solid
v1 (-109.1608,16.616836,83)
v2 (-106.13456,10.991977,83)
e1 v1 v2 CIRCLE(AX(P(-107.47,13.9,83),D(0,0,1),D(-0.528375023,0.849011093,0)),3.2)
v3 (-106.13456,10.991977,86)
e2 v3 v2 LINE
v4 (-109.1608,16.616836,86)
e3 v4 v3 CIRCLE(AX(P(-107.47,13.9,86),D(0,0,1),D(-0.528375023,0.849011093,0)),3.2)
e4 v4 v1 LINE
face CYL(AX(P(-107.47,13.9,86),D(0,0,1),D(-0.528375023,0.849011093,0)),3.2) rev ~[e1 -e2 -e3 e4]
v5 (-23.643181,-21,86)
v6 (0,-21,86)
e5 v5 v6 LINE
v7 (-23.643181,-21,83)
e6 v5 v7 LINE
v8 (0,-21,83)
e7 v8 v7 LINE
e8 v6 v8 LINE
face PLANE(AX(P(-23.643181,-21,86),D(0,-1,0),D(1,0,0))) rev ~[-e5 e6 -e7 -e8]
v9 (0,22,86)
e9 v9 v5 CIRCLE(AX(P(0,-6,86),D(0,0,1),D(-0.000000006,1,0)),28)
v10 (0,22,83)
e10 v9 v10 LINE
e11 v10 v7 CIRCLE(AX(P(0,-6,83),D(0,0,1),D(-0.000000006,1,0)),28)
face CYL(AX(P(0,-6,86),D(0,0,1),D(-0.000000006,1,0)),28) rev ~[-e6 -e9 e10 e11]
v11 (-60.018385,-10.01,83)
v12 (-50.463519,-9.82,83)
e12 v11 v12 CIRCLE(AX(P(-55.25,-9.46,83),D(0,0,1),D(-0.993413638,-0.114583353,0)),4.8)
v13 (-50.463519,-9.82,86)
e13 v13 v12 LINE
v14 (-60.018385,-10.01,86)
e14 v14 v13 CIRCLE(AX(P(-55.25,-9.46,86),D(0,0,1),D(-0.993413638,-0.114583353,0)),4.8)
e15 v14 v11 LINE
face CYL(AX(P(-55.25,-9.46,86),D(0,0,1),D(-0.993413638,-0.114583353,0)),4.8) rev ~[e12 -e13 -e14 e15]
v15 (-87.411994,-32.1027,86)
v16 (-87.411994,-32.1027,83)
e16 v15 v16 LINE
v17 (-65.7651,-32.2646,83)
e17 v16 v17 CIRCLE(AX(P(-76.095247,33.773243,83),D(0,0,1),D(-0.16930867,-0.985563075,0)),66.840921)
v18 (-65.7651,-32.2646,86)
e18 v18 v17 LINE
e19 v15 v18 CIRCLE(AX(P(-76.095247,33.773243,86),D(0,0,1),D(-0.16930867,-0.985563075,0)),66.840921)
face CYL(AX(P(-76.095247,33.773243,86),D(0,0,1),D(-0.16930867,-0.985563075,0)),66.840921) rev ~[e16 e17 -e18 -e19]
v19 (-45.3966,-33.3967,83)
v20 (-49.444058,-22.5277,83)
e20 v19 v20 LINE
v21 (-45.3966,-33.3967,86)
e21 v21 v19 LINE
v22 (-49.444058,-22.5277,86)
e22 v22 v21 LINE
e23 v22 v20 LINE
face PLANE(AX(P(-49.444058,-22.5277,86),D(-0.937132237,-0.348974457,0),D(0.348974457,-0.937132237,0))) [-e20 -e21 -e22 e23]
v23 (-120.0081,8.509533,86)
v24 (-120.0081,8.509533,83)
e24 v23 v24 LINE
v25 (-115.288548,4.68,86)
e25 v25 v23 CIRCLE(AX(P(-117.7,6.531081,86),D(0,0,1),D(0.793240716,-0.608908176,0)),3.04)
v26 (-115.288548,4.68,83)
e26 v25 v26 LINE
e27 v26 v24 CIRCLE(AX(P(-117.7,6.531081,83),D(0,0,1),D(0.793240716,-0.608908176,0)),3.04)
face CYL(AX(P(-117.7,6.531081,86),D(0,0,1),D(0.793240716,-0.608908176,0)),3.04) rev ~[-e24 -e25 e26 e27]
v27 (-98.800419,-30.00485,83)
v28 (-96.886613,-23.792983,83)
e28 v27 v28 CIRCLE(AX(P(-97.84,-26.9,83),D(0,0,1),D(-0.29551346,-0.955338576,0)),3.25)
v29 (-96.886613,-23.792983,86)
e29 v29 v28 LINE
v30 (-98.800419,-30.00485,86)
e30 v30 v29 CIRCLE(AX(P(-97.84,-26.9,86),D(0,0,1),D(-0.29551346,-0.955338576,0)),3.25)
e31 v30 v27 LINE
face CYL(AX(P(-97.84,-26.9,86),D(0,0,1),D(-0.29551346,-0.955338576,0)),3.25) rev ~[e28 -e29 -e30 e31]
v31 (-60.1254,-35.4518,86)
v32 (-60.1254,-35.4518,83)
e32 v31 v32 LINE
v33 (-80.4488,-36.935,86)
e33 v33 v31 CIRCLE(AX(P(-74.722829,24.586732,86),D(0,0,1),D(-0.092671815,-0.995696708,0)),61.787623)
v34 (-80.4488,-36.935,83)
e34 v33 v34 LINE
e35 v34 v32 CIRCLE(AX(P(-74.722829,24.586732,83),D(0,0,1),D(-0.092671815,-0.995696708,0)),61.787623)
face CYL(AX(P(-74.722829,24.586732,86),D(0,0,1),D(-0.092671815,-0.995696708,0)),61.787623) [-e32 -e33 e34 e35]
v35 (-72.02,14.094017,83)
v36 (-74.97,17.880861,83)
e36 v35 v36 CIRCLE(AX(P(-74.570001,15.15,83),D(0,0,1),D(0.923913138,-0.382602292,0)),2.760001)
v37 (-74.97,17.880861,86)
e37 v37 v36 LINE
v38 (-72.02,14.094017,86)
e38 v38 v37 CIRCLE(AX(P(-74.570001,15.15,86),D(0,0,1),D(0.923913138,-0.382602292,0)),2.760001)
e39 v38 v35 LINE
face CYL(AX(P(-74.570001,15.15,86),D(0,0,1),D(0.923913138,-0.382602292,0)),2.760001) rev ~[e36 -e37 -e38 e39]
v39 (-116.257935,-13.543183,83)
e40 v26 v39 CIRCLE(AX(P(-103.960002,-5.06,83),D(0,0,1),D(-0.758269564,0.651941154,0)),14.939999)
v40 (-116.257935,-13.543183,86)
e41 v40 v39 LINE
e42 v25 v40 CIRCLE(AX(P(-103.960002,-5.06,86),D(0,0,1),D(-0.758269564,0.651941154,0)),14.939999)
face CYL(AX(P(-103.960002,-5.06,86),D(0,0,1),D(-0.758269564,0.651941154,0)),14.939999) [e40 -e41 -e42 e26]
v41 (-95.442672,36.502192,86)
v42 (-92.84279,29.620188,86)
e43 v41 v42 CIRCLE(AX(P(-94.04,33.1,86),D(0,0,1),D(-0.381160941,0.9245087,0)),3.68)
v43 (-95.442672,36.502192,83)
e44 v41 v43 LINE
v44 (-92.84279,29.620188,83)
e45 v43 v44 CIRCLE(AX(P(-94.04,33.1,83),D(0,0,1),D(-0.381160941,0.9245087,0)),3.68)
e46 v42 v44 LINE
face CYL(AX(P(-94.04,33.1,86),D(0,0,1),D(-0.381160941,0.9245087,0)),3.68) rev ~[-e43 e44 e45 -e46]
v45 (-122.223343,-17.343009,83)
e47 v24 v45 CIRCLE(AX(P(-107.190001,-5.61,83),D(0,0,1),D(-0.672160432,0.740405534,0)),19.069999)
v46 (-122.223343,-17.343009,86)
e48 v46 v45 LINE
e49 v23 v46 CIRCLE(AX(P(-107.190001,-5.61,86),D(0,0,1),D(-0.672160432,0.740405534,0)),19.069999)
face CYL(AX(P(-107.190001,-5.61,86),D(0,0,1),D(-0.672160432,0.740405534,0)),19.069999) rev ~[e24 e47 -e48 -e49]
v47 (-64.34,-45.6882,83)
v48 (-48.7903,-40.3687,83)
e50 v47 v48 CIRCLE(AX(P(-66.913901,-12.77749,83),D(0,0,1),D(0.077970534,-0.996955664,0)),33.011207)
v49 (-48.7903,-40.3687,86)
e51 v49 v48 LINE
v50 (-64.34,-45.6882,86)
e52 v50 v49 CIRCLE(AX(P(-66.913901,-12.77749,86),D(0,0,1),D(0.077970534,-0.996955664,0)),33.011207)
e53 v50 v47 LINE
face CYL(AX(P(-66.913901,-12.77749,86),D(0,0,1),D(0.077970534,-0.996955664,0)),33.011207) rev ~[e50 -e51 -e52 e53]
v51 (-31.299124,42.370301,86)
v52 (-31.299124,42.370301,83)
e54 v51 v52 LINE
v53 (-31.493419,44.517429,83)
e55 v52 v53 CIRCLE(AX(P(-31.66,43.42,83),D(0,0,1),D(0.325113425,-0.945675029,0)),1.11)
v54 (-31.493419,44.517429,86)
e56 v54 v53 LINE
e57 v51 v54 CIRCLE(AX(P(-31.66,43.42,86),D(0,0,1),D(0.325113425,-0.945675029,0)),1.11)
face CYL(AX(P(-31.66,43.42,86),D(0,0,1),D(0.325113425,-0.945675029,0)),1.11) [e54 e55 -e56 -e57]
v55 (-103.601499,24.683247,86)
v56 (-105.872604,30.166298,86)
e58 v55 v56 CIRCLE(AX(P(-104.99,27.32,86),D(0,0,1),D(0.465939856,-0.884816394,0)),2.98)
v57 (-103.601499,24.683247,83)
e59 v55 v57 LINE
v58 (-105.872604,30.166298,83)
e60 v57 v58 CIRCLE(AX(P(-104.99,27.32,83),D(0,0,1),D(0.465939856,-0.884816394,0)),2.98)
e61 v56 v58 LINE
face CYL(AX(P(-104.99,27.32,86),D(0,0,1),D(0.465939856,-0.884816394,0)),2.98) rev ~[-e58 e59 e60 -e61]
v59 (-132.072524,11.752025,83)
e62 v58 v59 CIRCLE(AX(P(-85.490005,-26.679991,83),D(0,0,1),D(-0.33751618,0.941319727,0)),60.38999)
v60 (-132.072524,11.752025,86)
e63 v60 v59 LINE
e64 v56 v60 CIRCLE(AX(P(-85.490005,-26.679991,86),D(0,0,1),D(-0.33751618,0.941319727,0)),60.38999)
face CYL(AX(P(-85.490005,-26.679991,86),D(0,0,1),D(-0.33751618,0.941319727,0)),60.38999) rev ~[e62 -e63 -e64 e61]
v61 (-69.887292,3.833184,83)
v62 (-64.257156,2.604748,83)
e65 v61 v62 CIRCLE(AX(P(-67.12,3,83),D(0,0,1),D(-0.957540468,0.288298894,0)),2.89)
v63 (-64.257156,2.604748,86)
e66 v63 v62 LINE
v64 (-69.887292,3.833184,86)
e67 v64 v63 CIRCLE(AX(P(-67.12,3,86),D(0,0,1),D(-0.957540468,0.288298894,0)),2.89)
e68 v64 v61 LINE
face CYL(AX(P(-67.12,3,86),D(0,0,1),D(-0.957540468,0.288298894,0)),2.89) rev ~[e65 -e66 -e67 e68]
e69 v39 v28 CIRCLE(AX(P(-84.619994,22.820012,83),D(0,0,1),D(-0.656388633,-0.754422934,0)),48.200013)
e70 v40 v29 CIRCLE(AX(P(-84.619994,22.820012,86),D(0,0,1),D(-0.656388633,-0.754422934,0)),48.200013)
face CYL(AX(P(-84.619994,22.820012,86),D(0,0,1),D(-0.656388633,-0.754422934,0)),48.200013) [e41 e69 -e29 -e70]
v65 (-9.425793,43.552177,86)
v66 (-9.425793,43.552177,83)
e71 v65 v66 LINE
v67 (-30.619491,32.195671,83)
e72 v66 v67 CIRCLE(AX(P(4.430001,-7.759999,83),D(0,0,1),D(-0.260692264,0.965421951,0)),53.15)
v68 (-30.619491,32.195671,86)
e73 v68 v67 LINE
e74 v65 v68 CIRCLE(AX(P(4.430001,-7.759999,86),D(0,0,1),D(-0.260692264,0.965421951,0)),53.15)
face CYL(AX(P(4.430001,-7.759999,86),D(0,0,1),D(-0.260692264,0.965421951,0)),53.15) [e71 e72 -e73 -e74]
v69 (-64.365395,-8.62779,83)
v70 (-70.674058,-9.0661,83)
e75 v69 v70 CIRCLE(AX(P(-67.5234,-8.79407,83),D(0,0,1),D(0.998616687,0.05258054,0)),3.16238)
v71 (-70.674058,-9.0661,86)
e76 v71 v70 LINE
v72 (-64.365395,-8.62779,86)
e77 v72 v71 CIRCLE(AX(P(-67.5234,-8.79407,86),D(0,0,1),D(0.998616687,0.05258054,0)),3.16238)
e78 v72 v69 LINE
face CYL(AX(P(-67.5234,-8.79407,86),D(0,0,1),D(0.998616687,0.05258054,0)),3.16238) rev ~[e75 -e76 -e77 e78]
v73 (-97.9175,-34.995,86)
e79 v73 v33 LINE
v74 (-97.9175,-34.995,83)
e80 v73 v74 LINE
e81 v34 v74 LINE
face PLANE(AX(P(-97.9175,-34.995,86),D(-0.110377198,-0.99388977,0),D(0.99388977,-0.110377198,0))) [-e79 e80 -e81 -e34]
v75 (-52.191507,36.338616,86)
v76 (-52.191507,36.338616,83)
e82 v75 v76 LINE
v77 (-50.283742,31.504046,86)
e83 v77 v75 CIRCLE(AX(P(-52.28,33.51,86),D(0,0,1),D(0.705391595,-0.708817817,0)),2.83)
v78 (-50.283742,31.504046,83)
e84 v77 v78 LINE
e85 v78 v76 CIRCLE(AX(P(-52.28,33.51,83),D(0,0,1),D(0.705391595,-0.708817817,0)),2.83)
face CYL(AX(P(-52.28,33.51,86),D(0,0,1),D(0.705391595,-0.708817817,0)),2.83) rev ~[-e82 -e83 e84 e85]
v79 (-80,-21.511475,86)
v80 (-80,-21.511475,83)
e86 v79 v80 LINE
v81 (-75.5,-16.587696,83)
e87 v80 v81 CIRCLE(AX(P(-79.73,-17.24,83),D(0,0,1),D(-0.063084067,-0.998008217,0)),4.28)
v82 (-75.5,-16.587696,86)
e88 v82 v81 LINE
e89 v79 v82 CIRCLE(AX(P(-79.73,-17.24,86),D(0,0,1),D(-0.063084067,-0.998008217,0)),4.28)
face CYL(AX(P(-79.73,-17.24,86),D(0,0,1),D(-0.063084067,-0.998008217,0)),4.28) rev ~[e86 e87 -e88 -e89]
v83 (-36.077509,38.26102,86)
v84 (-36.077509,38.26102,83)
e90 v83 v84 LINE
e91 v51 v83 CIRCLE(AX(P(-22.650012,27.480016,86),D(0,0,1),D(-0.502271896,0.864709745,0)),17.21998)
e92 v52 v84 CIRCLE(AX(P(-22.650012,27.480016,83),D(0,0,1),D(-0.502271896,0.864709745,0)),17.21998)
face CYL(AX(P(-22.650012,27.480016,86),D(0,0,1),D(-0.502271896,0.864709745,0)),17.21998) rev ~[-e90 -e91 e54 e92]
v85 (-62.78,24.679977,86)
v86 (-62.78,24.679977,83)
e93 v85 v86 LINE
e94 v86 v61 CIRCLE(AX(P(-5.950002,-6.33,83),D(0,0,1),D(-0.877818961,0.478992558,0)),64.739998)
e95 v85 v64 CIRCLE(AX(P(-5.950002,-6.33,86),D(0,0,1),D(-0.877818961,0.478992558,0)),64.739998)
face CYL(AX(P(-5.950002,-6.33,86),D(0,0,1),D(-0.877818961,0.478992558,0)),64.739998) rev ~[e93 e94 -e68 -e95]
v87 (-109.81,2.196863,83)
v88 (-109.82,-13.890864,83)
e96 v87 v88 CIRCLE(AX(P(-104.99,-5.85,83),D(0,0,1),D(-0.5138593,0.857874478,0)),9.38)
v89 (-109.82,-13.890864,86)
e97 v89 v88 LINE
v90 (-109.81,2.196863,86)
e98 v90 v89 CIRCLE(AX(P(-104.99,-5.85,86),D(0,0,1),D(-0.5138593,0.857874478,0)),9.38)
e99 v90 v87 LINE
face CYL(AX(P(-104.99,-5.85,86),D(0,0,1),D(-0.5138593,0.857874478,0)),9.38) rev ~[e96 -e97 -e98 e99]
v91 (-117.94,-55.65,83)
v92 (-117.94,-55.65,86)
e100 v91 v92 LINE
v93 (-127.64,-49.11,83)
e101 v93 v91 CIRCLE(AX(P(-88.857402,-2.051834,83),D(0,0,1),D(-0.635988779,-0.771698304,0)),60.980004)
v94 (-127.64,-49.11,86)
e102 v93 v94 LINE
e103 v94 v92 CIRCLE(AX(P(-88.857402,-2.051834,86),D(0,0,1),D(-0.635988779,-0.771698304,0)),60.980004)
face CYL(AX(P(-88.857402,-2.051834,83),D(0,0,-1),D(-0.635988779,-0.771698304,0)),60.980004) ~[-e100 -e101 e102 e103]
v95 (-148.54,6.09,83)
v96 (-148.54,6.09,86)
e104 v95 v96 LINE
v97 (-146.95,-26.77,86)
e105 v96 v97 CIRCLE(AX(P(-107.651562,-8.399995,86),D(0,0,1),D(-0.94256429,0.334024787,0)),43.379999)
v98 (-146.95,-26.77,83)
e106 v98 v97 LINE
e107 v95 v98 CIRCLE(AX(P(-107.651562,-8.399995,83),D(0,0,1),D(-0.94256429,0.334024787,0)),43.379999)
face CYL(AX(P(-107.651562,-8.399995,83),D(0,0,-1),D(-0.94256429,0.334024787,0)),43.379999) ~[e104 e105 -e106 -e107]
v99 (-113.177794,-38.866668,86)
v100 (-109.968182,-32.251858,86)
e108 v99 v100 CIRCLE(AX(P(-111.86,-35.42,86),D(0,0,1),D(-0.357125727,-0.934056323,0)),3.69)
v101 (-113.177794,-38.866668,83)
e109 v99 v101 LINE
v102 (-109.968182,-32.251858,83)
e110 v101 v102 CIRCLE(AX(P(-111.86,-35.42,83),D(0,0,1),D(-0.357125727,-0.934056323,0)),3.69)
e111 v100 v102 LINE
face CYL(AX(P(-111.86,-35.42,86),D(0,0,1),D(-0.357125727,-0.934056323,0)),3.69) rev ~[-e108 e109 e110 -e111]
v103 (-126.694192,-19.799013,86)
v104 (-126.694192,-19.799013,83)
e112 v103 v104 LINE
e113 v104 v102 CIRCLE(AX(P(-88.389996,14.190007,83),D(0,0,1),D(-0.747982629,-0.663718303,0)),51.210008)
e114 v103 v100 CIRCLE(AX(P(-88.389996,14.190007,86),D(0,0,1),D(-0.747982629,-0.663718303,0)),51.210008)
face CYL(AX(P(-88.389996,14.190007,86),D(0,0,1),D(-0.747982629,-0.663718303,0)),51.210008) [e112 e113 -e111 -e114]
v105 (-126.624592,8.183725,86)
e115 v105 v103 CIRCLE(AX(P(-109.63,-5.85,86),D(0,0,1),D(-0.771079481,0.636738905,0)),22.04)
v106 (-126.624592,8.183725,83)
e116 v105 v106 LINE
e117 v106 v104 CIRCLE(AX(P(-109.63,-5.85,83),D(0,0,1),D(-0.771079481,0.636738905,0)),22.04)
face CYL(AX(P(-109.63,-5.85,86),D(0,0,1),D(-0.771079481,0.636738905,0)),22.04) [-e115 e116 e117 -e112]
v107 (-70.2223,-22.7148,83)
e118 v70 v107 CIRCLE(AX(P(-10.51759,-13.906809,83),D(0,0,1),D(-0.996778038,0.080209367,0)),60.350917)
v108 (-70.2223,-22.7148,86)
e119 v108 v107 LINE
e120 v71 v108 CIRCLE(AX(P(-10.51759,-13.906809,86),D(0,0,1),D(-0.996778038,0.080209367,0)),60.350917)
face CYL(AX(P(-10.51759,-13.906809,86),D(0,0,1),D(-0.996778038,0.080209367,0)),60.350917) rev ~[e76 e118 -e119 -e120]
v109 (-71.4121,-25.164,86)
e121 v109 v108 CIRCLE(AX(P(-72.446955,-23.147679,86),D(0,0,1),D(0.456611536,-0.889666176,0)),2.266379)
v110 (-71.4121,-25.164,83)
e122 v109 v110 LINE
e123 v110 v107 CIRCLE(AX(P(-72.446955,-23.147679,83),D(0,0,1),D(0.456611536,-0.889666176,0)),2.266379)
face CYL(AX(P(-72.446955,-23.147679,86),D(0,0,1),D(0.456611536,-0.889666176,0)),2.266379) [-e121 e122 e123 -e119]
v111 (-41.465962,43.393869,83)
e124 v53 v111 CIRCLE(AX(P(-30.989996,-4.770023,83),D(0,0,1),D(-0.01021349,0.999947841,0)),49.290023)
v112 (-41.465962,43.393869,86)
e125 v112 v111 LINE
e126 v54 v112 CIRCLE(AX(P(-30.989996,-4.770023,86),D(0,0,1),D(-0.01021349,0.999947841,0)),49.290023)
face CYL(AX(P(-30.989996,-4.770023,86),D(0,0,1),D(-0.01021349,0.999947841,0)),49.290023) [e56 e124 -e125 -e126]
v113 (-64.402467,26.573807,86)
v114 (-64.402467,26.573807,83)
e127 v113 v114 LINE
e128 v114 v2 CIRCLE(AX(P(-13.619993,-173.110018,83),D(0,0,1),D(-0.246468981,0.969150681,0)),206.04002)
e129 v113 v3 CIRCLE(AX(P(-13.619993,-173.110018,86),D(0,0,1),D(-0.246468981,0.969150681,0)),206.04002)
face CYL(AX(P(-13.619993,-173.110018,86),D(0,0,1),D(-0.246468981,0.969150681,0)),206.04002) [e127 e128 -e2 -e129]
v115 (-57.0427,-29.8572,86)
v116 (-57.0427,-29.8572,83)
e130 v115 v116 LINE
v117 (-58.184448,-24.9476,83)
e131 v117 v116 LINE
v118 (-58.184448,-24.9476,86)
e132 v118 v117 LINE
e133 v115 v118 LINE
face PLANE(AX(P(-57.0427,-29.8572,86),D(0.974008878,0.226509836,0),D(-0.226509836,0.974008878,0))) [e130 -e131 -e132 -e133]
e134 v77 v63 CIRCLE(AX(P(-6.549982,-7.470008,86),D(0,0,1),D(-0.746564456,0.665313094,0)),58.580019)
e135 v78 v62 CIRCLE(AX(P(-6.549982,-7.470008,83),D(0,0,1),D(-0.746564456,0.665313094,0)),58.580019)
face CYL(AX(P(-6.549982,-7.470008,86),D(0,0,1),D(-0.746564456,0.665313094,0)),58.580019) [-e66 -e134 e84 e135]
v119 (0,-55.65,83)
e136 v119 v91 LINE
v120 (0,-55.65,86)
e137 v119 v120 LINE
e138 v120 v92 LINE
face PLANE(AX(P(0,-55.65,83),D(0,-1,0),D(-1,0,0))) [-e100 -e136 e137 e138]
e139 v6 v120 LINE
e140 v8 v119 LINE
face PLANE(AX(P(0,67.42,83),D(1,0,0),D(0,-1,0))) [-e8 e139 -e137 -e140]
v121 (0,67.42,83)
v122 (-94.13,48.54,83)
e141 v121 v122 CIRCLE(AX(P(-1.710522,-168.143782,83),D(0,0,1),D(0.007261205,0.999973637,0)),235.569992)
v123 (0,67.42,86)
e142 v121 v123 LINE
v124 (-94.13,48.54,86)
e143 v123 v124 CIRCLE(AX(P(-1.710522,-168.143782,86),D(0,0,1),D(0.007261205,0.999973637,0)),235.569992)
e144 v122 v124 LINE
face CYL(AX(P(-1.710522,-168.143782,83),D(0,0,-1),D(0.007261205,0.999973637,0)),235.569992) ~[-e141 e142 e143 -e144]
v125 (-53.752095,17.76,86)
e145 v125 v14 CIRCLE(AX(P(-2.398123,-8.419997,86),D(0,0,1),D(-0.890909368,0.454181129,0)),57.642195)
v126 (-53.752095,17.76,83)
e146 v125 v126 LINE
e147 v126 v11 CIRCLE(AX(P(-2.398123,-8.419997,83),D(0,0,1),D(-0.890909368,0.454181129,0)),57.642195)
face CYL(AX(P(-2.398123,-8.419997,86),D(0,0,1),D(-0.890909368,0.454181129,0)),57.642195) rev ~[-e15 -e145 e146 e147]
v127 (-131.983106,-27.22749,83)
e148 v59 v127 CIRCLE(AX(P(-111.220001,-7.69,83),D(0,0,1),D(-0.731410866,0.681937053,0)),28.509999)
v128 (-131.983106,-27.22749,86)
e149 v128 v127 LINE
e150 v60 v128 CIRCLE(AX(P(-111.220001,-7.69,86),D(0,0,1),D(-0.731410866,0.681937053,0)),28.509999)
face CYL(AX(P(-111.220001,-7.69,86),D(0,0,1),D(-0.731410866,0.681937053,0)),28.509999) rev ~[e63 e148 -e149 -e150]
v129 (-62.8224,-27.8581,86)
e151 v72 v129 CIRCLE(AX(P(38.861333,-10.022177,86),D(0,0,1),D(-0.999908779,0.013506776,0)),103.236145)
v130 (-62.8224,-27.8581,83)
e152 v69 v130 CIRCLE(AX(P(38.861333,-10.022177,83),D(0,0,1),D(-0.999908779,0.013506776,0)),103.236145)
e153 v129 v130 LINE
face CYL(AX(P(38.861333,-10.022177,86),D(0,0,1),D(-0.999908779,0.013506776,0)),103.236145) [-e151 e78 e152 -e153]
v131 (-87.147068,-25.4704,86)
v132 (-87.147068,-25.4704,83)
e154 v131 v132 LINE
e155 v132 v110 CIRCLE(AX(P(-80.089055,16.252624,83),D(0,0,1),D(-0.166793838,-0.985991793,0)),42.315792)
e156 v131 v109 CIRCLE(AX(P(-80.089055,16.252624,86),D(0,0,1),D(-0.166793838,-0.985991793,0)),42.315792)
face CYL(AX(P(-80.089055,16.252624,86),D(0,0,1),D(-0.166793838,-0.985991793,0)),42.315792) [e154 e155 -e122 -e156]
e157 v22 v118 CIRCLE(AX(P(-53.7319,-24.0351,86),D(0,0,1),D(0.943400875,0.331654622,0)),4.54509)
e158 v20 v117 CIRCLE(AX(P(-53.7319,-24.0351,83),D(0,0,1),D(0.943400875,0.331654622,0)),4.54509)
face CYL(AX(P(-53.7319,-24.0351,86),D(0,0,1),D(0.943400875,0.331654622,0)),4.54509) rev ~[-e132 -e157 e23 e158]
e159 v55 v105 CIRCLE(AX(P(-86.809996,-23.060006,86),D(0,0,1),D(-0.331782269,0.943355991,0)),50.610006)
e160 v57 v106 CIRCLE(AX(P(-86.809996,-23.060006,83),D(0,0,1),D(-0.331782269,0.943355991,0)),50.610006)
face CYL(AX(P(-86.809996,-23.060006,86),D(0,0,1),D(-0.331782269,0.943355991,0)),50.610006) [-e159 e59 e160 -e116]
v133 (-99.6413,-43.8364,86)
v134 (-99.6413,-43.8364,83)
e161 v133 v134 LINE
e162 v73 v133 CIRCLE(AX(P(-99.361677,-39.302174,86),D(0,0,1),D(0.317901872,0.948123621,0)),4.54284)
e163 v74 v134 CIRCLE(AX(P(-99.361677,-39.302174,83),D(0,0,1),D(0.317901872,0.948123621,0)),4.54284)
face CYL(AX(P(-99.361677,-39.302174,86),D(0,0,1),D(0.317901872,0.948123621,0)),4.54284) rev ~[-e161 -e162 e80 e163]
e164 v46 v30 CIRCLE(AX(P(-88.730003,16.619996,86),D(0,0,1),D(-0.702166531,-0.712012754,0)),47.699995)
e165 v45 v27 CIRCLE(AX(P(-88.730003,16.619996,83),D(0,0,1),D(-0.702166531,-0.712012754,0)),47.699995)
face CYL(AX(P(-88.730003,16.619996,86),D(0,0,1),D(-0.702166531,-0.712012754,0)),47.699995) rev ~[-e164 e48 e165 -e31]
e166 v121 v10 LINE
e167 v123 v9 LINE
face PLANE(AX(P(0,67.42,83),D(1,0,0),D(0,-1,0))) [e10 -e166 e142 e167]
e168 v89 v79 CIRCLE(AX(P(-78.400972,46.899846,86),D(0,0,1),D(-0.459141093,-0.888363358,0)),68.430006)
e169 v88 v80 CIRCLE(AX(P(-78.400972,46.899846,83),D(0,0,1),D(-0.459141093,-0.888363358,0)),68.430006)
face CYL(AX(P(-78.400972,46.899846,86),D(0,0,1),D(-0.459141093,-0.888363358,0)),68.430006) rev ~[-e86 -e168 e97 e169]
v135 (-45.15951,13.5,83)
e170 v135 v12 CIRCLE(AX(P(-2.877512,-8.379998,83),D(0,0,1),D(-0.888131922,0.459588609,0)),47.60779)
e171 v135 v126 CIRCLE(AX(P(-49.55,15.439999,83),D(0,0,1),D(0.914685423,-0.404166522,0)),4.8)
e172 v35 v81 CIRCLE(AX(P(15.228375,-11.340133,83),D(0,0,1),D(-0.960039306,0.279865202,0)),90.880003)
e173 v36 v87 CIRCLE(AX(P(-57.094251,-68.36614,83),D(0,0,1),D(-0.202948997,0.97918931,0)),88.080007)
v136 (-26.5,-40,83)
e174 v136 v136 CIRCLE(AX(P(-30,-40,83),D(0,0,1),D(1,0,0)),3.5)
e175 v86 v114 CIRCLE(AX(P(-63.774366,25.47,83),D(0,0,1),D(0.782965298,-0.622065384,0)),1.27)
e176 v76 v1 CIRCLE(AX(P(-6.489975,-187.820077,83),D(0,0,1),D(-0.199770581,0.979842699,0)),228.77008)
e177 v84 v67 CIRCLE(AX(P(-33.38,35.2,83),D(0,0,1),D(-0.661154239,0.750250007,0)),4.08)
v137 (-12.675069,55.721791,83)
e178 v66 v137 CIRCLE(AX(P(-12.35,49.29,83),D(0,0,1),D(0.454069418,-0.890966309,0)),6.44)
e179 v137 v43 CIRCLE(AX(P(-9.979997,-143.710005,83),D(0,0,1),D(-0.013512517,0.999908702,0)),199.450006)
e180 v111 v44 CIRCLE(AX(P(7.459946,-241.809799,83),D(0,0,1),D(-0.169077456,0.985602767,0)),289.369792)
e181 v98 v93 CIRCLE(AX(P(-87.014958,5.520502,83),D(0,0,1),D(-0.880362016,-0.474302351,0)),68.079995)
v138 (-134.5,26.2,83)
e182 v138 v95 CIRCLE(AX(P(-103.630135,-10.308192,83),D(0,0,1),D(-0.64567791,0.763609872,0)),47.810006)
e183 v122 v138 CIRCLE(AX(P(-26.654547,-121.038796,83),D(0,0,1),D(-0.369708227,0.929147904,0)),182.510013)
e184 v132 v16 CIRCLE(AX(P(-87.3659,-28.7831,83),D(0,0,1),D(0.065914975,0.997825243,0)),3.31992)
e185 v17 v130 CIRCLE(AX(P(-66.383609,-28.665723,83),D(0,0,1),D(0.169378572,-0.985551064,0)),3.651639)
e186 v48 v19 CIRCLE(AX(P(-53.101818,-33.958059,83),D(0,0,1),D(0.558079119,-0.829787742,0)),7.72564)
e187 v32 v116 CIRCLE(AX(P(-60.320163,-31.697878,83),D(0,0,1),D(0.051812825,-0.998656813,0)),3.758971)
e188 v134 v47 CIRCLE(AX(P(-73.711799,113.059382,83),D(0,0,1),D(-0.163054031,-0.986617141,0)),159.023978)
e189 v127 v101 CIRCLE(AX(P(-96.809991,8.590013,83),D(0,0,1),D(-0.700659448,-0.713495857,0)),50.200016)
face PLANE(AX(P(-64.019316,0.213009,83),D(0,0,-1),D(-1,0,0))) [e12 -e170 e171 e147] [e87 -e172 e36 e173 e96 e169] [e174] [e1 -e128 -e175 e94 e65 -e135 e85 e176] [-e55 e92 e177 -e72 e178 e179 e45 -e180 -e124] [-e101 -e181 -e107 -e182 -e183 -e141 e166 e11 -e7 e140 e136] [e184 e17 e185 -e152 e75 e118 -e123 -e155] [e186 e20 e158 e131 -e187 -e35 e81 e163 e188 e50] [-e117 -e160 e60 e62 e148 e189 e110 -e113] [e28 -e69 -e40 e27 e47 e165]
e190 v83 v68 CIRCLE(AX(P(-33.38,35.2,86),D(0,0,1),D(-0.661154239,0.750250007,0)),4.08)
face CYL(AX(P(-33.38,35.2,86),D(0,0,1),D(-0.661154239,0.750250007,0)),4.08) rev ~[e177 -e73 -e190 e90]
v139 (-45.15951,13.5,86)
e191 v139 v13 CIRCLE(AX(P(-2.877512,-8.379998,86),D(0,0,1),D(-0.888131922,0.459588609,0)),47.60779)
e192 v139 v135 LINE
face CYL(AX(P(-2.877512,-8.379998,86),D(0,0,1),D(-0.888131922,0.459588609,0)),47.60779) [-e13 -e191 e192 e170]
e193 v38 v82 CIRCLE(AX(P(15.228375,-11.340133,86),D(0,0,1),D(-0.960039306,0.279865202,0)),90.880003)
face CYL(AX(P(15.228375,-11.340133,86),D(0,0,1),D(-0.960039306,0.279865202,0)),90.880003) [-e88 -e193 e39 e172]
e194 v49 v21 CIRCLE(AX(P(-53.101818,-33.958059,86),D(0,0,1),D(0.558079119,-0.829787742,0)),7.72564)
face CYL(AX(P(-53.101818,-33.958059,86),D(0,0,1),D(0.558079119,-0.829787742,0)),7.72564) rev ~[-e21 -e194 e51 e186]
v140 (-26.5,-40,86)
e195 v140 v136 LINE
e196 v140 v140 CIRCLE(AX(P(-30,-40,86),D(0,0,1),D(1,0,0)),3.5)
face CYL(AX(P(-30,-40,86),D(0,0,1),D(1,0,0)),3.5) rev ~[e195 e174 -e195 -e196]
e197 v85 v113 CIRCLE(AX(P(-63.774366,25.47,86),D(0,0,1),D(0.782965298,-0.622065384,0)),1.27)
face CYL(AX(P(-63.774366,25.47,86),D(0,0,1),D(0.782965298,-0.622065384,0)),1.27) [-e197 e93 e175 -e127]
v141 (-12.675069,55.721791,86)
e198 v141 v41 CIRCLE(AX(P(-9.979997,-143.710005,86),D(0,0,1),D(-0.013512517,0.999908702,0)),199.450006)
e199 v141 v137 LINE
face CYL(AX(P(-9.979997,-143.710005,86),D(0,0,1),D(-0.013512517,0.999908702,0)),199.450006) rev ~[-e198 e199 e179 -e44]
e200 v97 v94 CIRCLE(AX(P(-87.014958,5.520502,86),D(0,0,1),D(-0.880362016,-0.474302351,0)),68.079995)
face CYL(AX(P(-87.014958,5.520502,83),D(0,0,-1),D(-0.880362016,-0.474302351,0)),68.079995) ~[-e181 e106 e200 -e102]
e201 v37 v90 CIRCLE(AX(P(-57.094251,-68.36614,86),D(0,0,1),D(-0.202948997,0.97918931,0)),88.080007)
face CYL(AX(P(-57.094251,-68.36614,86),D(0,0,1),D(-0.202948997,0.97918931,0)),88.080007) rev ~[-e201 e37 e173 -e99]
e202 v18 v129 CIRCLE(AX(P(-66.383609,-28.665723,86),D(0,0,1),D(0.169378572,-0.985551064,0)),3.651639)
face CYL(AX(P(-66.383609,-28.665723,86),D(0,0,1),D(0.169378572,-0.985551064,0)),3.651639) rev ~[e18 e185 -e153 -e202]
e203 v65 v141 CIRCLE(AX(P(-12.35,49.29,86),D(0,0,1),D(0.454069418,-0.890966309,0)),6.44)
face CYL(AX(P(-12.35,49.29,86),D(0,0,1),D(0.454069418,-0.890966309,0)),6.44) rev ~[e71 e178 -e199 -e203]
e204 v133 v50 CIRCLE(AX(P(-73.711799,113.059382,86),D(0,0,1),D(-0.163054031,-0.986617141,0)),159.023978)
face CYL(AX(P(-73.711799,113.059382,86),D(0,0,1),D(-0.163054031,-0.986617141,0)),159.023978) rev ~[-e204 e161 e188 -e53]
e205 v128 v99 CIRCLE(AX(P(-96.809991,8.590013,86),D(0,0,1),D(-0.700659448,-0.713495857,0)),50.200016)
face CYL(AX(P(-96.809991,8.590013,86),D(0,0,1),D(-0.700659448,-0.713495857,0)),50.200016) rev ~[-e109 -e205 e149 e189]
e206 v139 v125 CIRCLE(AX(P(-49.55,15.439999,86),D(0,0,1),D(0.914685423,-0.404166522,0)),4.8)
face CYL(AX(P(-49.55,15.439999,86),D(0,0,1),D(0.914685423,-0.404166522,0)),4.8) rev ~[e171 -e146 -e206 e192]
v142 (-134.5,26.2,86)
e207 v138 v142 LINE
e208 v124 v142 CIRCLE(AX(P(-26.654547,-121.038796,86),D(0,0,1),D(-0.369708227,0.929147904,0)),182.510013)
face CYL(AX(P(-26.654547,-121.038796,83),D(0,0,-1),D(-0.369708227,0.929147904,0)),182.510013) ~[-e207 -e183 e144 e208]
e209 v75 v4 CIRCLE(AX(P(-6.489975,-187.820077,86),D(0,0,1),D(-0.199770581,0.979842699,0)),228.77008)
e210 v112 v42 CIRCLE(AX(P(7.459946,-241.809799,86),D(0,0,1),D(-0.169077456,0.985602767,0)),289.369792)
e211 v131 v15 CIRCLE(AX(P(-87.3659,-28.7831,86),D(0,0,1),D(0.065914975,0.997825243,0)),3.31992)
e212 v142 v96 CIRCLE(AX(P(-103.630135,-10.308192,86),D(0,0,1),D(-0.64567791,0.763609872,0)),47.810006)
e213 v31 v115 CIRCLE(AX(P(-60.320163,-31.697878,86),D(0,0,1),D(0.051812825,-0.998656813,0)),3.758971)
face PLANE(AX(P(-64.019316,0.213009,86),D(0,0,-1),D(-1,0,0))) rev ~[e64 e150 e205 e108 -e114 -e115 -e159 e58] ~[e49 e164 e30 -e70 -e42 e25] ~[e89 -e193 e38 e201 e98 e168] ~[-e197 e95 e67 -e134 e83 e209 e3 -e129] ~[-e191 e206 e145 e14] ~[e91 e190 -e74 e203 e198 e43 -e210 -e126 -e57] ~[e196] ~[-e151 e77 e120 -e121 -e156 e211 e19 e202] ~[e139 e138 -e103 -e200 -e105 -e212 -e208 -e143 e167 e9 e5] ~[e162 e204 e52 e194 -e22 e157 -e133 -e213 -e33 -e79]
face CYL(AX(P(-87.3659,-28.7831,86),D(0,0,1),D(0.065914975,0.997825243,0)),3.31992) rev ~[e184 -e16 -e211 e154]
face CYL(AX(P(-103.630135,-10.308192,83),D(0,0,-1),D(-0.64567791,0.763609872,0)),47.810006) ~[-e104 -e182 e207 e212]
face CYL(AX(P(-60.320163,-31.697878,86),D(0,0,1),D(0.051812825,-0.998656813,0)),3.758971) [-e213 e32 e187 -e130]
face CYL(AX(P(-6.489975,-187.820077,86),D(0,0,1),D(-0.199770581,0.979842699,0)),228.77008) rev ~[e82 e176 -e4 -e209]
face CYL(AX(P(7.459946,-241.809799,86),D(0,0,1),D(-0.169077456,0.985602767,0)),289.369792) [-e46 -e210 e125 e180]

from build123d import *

# Parameters (mm, degrees)
PAD004_DEPTH        = 3
POCKET007_DEPTH     = 3.001
POCKET008_DEPTH     = 3.001
POCKET009_DEPTH     = 3.001
POCKET010_DEPTH     = 3.001
POCKET011_DEPTH     = 3.001
POCKET012_DEPTH     = 3.001
POCKET013_DEPTH     = 3.001
POCKET014_DEPTH     = 3.001
POCKET015_DEPTH     = 3.001
COPYCOPYSKETCH023_R = 3.5
POCKET033_DEPTH     = 5


with BuildPart() as part:
    # Sketch012 → Pad004 (new body)
    with BuildSketch(Plane.XY):
        with BuildLine():
            Line((0, 67.42), (0, -55.65))
            Line((0, -55.65), (-117.94, -55.65))
            ThreePointArc((-127.64, -49.11), (-122.947197, -52.613151), (-117.94, -55.65))
            ThreePointArc((-146.95, -26.77), (-138.520798, -38.999541), (-127.64, -49.11))
            ThreePointArc((-148.54, 6.09), (-150.980867, -10.496574), (-146.95, -26.77))
            ThreePointArc((-134.5, 26.2), (-142.831473, 17.060618), (-148.54, 6.09))
            ThreePointArc((-94.13, 48.54), (-115.023795, 38.650843), (-134.5, 26.2))
            ThreePointArc((0, 67.42), (-48.036997, 62.826084), (-94.13, 48.54))
        make_face()
    extrude(amount=PAD004_DEPTH)

    # CopySketch001 → Pocket007 (cut, through all)
    with BuildSketch(Plane.XY.offset(3)):
        with BuildLine():
            ThreePointArc((0, 22), (-24.535688, 7.490738), (-23.643181, -21))
            Line((-23.643181, -21), (0, -21))
            Line((0, -21), (0, 22))
        make_face()
        with BuildLine():
            ThreePointArc((-45.15951, 13.5), (-47.417918, 19.740491), (-53.752095, 17.76))
            ThreePointArc((-53.752095, 17.76), (-58.626578, 4.267932), (-60.018385, -10.01))
            ThreePointArc((-60.018385, -10.01), (-55.15457, -14.259051), (-50.463519, -9.82))
            ThreePointArc((-45.15951, 13.5), (-49.299707, 2.178481), (-50.463519, -9.82))
        make_face()
    extrude(amount=-POCKET007_DEPTH, mode=Mode.SUBTRACT)

    # CopySketch002 → Pocket008 (cut, through all)
    with BuildSketch(Plane.XY.offset(3)):
        with BuildLine():
            ThreePointArc((-49.444058, -22.5277), (-54.944649, -19.654794), (-58.184448, -24.9476))
            Line((-57.0427, -29.8572), (-58.184448, -24.9476))
            ThreePointArc((-60.1254, -35.4518), (-57.027903, -33.511958), (-57.0427, -29.8572))
            ThreePointArc((-80.4488, -36.935), (-70.225534, -37.037002), (-60.1254, -35.4518))
            Line((-97.9175, -34.995), (-80.4488, -36.935))
            ThreePointArc((-97.9175, -34.995), (-103.82056, -38.432829), (-99.6413, -43.8364))
            ThreePointArc((-99.6413, -43.8364), (-82.042265, -45.74625), (-64.34, -45.6882))
            ThreePointArc((-64.34, -45.6882), (-56.228822, -44.011588), (-48.7903, -40.3687))
            ThreePointArc((-48.7903, -40.3687), (-46.155403, -37.339305), (-45.3966, -33.3967))
            Line((-49.444058, -22.5277), (-45.3966, -33.3967))
        make_face()
    extrude(amount=-POCKET008_DEPTH, mode=Mode.SUBTRACT)

    # CopySketch003 → Pocket009 (cut, through all)
    with BuildSketch(Plane.XY.offset(3)):
        with BuildLine():
            ThreePointArc((-64.365395, -8.62779), (-67.742586, -5.639295), (-70.674058, -9.0661))
            ThreePointArc((-70.674058, -9.0661), (-70.835475, -15.903269), (-70.2223, -22.7148))
            ThreePointArc((-71.4121, -25.164), (-70.40839, -24.137996), (-70.2223, -22.7148))
            ThreePointArc((-87.147068, -25.4704), (-79.265214, -26.055148), (-71.4121, -25.164))
            ThreePointArc((-87.147068, -25.4704), (-90.683175, -28.650592), (-87.411994, -32.1027))
            ThreePointArc((-87.411994, -32.1027), (-76.595145, -33.065808), (-65.7651, -32.2646))
            ThreePointArc((-65.7651, -32.2646), (-63.346864, -30.693689), (-62.8224, -27.8581))
            ThreePointArc((-64.365395, -8.62779), (-64.044087, -18.279067), (-62.8224, -27.8581))
        make_face()
    extrude(amount=-POCKET009_DEPTH, mode=Mode.SUBTRACT)

    # CopySketch018 → Pocket010 (cut, through all)
    with BuildSketch(Plane.XY.offset(3)):
        with BuildLine():
            ThreePointArc((-72.02, 14.094017), (-72.392692, 16.846151), (-74.97, 17.880861))
            ThreePointArc((-74.97, 17.880861), (-93.250673, 11.950737), (-109.81, 2.196863))
            ThreePointArc((-109.81, 2.196863), (-114.369998, -5.844169), (-109.82, -13.890864))
            ThreePointArc((-109.82, -13.890864), (-95.344007, -19.39947), (-80, -21.511475))
            ThreePointArc((-80, -21.511475), (-76.570681, -20.127404), (-75.5, -16.587696))
            ThreePointArc((-72.02, 14.094017), (-75.072637, -1.097957), (-75.5, -16.587696))
        make_face()
    extrude(amount=-POCKET010_DEPTH, mode=Mode.SUBTRACT)

    # CopySketch019 → Pocket011 (cut, through all)
    with BuildSketch(Plane.XY.offset(3)):
        with BuildLine():
            ThreePointArc((-98.800419, -30.00485), (-94.734065, -27.856904), (-96.886613, -23.792983))
            ThreePointArc((-116.257935, -13.543183), (-107.162558, -19.783674), (-96.886613, -23.792983))
            ThreePointArc((-115.288548, 4.68), (-118.878907, -4.266385), (-116.257935, -13.543183))
            ThreePointArc((-115.288548, 4.68), (-115.784536, 8.891716), (-120.0081, 8.509533))
            ThreePointArc((-120.0081, 8.509533), (-126.190374, -3.981903), (-122.223343, -17.343009))
            ThreePointArc((-122.223343, -17.343009), (-111.413274, -25.3414), (-98.800419, -30.00485))
        make_face()
    extrude(amount=-POCKET011_DEPTH, mode=Mode.SUBTRACT)

    # CopySketch020 → Pocket012 (cut, through all)
    with BuildSketch(Plane.XY.offset(3)):
        with BuildLine():
            ThreePointArc((-103.601499, 24.683247), (-102.23683, 28.460376), (-105.872604, 30.166298))
            ThreePointArc((-105.872604, 30.166298), (-120.215401, 22.727476), (-132.072524, 11.752025))
            ThreePointArc((-132.072524, 11.752025), (-139.729925, -7.755401), (-131.983106, -27.22749))
            ThreePointArc((-131.983106, -27.22749), (-123.229381, -34.095551), (-113.177794, -38.866668))
            ThreePointArc((-113.177794, -38.866668), (-108.540165, -37.030837), (-109.968182, -32.251858))
            ThreePointArc((-126.694192, -19.799013), (-118.971743, -26.885797), (-109.968182, -32.251858))
            ThreePointArc((-126.624592, 8.183725), (-131.669932, -5.795181), (-126.694192, -19.799013))
            ThreePointArc((-103.601499, 24.683247), (-116.290857, 18.07698), (-126.624592, 8.183725))
        make_face()
    extrude(amount=-POCKET012_DEPTH, mode=Mode.SUBTRACT)

    # CopySketch021 → Pocket013 (cut, through all)
    with BuildSketch(Plane.XY.offset(3)):
        with BuildLine():
            ThreePointArc((-50.283742, 31.504046), (-49.647546, 34.54879), (-52.191507, 36.338616))
            ThreePointArc((-52.191507, 36.338616), (-81.328643, 28.362539), (-109.1608, 16.616836))
            ThreePointArc((-109.1608, 16.616836), (-110.288036, 12.383863), (-106.13456, 10.991977))
            ThreePointArc((-64.402467, 26.573807), (-85.690853, 19.914024), (-106.13456, 10.991977))
            ThreePointArc((-62.78, 24.679977), (-62.809905, 26.296266), (-64.402467, 26.573807))
            ThreePointArc((-62.78, 24.679977), (-67.226683, 14.561044), (-69.887292, 3.833184))
            ThreePointArc((-69.887292, 3.833184), (-67.736073, 0.176429), (-64.257156, 2.604748))
            ThreePointArc((-50.283742, 31.504046), (-59.288565, 18.030198), (-64.257156, 2.604748))
        make_face()
    extrude(amount=-POCKET013_DEPTH, mode=Mode.SUBTRACT)

    # CopySketch021001 → Pocket014 (cut, through all)
    with BuildSketch(Plane.XY.offset(3)):
        with BuildLine():
            ThreePointArc((-50.283742, 31.504046), (-49.647546, 34.54879), (-52.191507, 36.338616))
            ThreePointArc((-52.191507, 36.338616), (-81.328643, 28.362539), (-109.1608, 16.616836))
            ThreePointArc((-109.1608, 16.616836), (-110.288036, 12.383863), (-106.13456, 10.991977))
            ThreePointArc((-64.402467, 26.573807), (-85.690853, 19.914024), (-106.13456, 10.991977))
            ThreePointArc((-62.78, 24.679977), (-62.809905, 26.296266), (-64.402467, 26.573807))
            ThreePointArc((-62.78, 24.679977), (-67.226683, 14.561044), (-69.887292, 3.833184))
            ThreePointArc((-69.887292, 3.833184), (-67.736073, 0.176429), (-64.257156, 2.604748))
            ThreePointArc((-50.283742, 31.504046), (-59.288565, 18.030198), (-64.257156, 2.604748))
        make_face()
    extrude(amount=-POCKET014_DEPTH, mode=Mode.SUBTRACT)

    # CopySketch022 → Pocket015 (cut, through all)
    with BuildSketch(Plane.XY.offset(3)):
        with BuildLine():
            ThreePointArc((-95.442672, 36.502192), (-97.482535, 31.79948), (-92.84279, 29.620188))
            ThreePointArc((-41.465962, 43.393869), (-67.471527, 37.690024), (-92.84279, 29.620188))
            ThreePointArc((-31.493419, 44.517429), (-36.50836, 44.210116), (-41.465962, 43.393869))
            ThreePointArc((-31.299124, 42.370301), (-30.554517, 43.520036), (-31.493419, 44.517429))
            ThreePointArc((-31.299124, 42.370301), (-33.877911, 40.536126), (-36.077509, 38.26102))
            ThreePointArc((-36.077509, 38.26102), (-36.412838, 32.470844), (-30.619491, 32.195671))
            ThreePointArc((-9.425793, 43.552177), (-20.673272, 39.08814), (-30.619491, 32.195671))
            ThreePointArc((-9.425793, 43.552177), (-6.127962, 50.951278), (-12.675069, 55.721791))
            ThreePointArc((-12.675069, 55.721791), (-55.094244, 50.570744), (-95.442672, 36.502192))
        make_face()
    extrude(amount=-POCKET015_DEPTH, mode=Mode.SUBTRACT)

    # CopyCopySketch023 → Pocket033 (cut)
    with BuildSketch(Plane.XY.offset(3)):
        with Locations((-30, -40)):
            Circle(COPYCOPYSKETCH023_R)
    extrude(amount=-POCKET033_DEPTH, mode=Mode.SUBTRACT)


with BuildPart() as part_1:
    # Body003 placement: moved
    add(part.part.moved(Location((0, 0, 83))))


solid = part_1.part
